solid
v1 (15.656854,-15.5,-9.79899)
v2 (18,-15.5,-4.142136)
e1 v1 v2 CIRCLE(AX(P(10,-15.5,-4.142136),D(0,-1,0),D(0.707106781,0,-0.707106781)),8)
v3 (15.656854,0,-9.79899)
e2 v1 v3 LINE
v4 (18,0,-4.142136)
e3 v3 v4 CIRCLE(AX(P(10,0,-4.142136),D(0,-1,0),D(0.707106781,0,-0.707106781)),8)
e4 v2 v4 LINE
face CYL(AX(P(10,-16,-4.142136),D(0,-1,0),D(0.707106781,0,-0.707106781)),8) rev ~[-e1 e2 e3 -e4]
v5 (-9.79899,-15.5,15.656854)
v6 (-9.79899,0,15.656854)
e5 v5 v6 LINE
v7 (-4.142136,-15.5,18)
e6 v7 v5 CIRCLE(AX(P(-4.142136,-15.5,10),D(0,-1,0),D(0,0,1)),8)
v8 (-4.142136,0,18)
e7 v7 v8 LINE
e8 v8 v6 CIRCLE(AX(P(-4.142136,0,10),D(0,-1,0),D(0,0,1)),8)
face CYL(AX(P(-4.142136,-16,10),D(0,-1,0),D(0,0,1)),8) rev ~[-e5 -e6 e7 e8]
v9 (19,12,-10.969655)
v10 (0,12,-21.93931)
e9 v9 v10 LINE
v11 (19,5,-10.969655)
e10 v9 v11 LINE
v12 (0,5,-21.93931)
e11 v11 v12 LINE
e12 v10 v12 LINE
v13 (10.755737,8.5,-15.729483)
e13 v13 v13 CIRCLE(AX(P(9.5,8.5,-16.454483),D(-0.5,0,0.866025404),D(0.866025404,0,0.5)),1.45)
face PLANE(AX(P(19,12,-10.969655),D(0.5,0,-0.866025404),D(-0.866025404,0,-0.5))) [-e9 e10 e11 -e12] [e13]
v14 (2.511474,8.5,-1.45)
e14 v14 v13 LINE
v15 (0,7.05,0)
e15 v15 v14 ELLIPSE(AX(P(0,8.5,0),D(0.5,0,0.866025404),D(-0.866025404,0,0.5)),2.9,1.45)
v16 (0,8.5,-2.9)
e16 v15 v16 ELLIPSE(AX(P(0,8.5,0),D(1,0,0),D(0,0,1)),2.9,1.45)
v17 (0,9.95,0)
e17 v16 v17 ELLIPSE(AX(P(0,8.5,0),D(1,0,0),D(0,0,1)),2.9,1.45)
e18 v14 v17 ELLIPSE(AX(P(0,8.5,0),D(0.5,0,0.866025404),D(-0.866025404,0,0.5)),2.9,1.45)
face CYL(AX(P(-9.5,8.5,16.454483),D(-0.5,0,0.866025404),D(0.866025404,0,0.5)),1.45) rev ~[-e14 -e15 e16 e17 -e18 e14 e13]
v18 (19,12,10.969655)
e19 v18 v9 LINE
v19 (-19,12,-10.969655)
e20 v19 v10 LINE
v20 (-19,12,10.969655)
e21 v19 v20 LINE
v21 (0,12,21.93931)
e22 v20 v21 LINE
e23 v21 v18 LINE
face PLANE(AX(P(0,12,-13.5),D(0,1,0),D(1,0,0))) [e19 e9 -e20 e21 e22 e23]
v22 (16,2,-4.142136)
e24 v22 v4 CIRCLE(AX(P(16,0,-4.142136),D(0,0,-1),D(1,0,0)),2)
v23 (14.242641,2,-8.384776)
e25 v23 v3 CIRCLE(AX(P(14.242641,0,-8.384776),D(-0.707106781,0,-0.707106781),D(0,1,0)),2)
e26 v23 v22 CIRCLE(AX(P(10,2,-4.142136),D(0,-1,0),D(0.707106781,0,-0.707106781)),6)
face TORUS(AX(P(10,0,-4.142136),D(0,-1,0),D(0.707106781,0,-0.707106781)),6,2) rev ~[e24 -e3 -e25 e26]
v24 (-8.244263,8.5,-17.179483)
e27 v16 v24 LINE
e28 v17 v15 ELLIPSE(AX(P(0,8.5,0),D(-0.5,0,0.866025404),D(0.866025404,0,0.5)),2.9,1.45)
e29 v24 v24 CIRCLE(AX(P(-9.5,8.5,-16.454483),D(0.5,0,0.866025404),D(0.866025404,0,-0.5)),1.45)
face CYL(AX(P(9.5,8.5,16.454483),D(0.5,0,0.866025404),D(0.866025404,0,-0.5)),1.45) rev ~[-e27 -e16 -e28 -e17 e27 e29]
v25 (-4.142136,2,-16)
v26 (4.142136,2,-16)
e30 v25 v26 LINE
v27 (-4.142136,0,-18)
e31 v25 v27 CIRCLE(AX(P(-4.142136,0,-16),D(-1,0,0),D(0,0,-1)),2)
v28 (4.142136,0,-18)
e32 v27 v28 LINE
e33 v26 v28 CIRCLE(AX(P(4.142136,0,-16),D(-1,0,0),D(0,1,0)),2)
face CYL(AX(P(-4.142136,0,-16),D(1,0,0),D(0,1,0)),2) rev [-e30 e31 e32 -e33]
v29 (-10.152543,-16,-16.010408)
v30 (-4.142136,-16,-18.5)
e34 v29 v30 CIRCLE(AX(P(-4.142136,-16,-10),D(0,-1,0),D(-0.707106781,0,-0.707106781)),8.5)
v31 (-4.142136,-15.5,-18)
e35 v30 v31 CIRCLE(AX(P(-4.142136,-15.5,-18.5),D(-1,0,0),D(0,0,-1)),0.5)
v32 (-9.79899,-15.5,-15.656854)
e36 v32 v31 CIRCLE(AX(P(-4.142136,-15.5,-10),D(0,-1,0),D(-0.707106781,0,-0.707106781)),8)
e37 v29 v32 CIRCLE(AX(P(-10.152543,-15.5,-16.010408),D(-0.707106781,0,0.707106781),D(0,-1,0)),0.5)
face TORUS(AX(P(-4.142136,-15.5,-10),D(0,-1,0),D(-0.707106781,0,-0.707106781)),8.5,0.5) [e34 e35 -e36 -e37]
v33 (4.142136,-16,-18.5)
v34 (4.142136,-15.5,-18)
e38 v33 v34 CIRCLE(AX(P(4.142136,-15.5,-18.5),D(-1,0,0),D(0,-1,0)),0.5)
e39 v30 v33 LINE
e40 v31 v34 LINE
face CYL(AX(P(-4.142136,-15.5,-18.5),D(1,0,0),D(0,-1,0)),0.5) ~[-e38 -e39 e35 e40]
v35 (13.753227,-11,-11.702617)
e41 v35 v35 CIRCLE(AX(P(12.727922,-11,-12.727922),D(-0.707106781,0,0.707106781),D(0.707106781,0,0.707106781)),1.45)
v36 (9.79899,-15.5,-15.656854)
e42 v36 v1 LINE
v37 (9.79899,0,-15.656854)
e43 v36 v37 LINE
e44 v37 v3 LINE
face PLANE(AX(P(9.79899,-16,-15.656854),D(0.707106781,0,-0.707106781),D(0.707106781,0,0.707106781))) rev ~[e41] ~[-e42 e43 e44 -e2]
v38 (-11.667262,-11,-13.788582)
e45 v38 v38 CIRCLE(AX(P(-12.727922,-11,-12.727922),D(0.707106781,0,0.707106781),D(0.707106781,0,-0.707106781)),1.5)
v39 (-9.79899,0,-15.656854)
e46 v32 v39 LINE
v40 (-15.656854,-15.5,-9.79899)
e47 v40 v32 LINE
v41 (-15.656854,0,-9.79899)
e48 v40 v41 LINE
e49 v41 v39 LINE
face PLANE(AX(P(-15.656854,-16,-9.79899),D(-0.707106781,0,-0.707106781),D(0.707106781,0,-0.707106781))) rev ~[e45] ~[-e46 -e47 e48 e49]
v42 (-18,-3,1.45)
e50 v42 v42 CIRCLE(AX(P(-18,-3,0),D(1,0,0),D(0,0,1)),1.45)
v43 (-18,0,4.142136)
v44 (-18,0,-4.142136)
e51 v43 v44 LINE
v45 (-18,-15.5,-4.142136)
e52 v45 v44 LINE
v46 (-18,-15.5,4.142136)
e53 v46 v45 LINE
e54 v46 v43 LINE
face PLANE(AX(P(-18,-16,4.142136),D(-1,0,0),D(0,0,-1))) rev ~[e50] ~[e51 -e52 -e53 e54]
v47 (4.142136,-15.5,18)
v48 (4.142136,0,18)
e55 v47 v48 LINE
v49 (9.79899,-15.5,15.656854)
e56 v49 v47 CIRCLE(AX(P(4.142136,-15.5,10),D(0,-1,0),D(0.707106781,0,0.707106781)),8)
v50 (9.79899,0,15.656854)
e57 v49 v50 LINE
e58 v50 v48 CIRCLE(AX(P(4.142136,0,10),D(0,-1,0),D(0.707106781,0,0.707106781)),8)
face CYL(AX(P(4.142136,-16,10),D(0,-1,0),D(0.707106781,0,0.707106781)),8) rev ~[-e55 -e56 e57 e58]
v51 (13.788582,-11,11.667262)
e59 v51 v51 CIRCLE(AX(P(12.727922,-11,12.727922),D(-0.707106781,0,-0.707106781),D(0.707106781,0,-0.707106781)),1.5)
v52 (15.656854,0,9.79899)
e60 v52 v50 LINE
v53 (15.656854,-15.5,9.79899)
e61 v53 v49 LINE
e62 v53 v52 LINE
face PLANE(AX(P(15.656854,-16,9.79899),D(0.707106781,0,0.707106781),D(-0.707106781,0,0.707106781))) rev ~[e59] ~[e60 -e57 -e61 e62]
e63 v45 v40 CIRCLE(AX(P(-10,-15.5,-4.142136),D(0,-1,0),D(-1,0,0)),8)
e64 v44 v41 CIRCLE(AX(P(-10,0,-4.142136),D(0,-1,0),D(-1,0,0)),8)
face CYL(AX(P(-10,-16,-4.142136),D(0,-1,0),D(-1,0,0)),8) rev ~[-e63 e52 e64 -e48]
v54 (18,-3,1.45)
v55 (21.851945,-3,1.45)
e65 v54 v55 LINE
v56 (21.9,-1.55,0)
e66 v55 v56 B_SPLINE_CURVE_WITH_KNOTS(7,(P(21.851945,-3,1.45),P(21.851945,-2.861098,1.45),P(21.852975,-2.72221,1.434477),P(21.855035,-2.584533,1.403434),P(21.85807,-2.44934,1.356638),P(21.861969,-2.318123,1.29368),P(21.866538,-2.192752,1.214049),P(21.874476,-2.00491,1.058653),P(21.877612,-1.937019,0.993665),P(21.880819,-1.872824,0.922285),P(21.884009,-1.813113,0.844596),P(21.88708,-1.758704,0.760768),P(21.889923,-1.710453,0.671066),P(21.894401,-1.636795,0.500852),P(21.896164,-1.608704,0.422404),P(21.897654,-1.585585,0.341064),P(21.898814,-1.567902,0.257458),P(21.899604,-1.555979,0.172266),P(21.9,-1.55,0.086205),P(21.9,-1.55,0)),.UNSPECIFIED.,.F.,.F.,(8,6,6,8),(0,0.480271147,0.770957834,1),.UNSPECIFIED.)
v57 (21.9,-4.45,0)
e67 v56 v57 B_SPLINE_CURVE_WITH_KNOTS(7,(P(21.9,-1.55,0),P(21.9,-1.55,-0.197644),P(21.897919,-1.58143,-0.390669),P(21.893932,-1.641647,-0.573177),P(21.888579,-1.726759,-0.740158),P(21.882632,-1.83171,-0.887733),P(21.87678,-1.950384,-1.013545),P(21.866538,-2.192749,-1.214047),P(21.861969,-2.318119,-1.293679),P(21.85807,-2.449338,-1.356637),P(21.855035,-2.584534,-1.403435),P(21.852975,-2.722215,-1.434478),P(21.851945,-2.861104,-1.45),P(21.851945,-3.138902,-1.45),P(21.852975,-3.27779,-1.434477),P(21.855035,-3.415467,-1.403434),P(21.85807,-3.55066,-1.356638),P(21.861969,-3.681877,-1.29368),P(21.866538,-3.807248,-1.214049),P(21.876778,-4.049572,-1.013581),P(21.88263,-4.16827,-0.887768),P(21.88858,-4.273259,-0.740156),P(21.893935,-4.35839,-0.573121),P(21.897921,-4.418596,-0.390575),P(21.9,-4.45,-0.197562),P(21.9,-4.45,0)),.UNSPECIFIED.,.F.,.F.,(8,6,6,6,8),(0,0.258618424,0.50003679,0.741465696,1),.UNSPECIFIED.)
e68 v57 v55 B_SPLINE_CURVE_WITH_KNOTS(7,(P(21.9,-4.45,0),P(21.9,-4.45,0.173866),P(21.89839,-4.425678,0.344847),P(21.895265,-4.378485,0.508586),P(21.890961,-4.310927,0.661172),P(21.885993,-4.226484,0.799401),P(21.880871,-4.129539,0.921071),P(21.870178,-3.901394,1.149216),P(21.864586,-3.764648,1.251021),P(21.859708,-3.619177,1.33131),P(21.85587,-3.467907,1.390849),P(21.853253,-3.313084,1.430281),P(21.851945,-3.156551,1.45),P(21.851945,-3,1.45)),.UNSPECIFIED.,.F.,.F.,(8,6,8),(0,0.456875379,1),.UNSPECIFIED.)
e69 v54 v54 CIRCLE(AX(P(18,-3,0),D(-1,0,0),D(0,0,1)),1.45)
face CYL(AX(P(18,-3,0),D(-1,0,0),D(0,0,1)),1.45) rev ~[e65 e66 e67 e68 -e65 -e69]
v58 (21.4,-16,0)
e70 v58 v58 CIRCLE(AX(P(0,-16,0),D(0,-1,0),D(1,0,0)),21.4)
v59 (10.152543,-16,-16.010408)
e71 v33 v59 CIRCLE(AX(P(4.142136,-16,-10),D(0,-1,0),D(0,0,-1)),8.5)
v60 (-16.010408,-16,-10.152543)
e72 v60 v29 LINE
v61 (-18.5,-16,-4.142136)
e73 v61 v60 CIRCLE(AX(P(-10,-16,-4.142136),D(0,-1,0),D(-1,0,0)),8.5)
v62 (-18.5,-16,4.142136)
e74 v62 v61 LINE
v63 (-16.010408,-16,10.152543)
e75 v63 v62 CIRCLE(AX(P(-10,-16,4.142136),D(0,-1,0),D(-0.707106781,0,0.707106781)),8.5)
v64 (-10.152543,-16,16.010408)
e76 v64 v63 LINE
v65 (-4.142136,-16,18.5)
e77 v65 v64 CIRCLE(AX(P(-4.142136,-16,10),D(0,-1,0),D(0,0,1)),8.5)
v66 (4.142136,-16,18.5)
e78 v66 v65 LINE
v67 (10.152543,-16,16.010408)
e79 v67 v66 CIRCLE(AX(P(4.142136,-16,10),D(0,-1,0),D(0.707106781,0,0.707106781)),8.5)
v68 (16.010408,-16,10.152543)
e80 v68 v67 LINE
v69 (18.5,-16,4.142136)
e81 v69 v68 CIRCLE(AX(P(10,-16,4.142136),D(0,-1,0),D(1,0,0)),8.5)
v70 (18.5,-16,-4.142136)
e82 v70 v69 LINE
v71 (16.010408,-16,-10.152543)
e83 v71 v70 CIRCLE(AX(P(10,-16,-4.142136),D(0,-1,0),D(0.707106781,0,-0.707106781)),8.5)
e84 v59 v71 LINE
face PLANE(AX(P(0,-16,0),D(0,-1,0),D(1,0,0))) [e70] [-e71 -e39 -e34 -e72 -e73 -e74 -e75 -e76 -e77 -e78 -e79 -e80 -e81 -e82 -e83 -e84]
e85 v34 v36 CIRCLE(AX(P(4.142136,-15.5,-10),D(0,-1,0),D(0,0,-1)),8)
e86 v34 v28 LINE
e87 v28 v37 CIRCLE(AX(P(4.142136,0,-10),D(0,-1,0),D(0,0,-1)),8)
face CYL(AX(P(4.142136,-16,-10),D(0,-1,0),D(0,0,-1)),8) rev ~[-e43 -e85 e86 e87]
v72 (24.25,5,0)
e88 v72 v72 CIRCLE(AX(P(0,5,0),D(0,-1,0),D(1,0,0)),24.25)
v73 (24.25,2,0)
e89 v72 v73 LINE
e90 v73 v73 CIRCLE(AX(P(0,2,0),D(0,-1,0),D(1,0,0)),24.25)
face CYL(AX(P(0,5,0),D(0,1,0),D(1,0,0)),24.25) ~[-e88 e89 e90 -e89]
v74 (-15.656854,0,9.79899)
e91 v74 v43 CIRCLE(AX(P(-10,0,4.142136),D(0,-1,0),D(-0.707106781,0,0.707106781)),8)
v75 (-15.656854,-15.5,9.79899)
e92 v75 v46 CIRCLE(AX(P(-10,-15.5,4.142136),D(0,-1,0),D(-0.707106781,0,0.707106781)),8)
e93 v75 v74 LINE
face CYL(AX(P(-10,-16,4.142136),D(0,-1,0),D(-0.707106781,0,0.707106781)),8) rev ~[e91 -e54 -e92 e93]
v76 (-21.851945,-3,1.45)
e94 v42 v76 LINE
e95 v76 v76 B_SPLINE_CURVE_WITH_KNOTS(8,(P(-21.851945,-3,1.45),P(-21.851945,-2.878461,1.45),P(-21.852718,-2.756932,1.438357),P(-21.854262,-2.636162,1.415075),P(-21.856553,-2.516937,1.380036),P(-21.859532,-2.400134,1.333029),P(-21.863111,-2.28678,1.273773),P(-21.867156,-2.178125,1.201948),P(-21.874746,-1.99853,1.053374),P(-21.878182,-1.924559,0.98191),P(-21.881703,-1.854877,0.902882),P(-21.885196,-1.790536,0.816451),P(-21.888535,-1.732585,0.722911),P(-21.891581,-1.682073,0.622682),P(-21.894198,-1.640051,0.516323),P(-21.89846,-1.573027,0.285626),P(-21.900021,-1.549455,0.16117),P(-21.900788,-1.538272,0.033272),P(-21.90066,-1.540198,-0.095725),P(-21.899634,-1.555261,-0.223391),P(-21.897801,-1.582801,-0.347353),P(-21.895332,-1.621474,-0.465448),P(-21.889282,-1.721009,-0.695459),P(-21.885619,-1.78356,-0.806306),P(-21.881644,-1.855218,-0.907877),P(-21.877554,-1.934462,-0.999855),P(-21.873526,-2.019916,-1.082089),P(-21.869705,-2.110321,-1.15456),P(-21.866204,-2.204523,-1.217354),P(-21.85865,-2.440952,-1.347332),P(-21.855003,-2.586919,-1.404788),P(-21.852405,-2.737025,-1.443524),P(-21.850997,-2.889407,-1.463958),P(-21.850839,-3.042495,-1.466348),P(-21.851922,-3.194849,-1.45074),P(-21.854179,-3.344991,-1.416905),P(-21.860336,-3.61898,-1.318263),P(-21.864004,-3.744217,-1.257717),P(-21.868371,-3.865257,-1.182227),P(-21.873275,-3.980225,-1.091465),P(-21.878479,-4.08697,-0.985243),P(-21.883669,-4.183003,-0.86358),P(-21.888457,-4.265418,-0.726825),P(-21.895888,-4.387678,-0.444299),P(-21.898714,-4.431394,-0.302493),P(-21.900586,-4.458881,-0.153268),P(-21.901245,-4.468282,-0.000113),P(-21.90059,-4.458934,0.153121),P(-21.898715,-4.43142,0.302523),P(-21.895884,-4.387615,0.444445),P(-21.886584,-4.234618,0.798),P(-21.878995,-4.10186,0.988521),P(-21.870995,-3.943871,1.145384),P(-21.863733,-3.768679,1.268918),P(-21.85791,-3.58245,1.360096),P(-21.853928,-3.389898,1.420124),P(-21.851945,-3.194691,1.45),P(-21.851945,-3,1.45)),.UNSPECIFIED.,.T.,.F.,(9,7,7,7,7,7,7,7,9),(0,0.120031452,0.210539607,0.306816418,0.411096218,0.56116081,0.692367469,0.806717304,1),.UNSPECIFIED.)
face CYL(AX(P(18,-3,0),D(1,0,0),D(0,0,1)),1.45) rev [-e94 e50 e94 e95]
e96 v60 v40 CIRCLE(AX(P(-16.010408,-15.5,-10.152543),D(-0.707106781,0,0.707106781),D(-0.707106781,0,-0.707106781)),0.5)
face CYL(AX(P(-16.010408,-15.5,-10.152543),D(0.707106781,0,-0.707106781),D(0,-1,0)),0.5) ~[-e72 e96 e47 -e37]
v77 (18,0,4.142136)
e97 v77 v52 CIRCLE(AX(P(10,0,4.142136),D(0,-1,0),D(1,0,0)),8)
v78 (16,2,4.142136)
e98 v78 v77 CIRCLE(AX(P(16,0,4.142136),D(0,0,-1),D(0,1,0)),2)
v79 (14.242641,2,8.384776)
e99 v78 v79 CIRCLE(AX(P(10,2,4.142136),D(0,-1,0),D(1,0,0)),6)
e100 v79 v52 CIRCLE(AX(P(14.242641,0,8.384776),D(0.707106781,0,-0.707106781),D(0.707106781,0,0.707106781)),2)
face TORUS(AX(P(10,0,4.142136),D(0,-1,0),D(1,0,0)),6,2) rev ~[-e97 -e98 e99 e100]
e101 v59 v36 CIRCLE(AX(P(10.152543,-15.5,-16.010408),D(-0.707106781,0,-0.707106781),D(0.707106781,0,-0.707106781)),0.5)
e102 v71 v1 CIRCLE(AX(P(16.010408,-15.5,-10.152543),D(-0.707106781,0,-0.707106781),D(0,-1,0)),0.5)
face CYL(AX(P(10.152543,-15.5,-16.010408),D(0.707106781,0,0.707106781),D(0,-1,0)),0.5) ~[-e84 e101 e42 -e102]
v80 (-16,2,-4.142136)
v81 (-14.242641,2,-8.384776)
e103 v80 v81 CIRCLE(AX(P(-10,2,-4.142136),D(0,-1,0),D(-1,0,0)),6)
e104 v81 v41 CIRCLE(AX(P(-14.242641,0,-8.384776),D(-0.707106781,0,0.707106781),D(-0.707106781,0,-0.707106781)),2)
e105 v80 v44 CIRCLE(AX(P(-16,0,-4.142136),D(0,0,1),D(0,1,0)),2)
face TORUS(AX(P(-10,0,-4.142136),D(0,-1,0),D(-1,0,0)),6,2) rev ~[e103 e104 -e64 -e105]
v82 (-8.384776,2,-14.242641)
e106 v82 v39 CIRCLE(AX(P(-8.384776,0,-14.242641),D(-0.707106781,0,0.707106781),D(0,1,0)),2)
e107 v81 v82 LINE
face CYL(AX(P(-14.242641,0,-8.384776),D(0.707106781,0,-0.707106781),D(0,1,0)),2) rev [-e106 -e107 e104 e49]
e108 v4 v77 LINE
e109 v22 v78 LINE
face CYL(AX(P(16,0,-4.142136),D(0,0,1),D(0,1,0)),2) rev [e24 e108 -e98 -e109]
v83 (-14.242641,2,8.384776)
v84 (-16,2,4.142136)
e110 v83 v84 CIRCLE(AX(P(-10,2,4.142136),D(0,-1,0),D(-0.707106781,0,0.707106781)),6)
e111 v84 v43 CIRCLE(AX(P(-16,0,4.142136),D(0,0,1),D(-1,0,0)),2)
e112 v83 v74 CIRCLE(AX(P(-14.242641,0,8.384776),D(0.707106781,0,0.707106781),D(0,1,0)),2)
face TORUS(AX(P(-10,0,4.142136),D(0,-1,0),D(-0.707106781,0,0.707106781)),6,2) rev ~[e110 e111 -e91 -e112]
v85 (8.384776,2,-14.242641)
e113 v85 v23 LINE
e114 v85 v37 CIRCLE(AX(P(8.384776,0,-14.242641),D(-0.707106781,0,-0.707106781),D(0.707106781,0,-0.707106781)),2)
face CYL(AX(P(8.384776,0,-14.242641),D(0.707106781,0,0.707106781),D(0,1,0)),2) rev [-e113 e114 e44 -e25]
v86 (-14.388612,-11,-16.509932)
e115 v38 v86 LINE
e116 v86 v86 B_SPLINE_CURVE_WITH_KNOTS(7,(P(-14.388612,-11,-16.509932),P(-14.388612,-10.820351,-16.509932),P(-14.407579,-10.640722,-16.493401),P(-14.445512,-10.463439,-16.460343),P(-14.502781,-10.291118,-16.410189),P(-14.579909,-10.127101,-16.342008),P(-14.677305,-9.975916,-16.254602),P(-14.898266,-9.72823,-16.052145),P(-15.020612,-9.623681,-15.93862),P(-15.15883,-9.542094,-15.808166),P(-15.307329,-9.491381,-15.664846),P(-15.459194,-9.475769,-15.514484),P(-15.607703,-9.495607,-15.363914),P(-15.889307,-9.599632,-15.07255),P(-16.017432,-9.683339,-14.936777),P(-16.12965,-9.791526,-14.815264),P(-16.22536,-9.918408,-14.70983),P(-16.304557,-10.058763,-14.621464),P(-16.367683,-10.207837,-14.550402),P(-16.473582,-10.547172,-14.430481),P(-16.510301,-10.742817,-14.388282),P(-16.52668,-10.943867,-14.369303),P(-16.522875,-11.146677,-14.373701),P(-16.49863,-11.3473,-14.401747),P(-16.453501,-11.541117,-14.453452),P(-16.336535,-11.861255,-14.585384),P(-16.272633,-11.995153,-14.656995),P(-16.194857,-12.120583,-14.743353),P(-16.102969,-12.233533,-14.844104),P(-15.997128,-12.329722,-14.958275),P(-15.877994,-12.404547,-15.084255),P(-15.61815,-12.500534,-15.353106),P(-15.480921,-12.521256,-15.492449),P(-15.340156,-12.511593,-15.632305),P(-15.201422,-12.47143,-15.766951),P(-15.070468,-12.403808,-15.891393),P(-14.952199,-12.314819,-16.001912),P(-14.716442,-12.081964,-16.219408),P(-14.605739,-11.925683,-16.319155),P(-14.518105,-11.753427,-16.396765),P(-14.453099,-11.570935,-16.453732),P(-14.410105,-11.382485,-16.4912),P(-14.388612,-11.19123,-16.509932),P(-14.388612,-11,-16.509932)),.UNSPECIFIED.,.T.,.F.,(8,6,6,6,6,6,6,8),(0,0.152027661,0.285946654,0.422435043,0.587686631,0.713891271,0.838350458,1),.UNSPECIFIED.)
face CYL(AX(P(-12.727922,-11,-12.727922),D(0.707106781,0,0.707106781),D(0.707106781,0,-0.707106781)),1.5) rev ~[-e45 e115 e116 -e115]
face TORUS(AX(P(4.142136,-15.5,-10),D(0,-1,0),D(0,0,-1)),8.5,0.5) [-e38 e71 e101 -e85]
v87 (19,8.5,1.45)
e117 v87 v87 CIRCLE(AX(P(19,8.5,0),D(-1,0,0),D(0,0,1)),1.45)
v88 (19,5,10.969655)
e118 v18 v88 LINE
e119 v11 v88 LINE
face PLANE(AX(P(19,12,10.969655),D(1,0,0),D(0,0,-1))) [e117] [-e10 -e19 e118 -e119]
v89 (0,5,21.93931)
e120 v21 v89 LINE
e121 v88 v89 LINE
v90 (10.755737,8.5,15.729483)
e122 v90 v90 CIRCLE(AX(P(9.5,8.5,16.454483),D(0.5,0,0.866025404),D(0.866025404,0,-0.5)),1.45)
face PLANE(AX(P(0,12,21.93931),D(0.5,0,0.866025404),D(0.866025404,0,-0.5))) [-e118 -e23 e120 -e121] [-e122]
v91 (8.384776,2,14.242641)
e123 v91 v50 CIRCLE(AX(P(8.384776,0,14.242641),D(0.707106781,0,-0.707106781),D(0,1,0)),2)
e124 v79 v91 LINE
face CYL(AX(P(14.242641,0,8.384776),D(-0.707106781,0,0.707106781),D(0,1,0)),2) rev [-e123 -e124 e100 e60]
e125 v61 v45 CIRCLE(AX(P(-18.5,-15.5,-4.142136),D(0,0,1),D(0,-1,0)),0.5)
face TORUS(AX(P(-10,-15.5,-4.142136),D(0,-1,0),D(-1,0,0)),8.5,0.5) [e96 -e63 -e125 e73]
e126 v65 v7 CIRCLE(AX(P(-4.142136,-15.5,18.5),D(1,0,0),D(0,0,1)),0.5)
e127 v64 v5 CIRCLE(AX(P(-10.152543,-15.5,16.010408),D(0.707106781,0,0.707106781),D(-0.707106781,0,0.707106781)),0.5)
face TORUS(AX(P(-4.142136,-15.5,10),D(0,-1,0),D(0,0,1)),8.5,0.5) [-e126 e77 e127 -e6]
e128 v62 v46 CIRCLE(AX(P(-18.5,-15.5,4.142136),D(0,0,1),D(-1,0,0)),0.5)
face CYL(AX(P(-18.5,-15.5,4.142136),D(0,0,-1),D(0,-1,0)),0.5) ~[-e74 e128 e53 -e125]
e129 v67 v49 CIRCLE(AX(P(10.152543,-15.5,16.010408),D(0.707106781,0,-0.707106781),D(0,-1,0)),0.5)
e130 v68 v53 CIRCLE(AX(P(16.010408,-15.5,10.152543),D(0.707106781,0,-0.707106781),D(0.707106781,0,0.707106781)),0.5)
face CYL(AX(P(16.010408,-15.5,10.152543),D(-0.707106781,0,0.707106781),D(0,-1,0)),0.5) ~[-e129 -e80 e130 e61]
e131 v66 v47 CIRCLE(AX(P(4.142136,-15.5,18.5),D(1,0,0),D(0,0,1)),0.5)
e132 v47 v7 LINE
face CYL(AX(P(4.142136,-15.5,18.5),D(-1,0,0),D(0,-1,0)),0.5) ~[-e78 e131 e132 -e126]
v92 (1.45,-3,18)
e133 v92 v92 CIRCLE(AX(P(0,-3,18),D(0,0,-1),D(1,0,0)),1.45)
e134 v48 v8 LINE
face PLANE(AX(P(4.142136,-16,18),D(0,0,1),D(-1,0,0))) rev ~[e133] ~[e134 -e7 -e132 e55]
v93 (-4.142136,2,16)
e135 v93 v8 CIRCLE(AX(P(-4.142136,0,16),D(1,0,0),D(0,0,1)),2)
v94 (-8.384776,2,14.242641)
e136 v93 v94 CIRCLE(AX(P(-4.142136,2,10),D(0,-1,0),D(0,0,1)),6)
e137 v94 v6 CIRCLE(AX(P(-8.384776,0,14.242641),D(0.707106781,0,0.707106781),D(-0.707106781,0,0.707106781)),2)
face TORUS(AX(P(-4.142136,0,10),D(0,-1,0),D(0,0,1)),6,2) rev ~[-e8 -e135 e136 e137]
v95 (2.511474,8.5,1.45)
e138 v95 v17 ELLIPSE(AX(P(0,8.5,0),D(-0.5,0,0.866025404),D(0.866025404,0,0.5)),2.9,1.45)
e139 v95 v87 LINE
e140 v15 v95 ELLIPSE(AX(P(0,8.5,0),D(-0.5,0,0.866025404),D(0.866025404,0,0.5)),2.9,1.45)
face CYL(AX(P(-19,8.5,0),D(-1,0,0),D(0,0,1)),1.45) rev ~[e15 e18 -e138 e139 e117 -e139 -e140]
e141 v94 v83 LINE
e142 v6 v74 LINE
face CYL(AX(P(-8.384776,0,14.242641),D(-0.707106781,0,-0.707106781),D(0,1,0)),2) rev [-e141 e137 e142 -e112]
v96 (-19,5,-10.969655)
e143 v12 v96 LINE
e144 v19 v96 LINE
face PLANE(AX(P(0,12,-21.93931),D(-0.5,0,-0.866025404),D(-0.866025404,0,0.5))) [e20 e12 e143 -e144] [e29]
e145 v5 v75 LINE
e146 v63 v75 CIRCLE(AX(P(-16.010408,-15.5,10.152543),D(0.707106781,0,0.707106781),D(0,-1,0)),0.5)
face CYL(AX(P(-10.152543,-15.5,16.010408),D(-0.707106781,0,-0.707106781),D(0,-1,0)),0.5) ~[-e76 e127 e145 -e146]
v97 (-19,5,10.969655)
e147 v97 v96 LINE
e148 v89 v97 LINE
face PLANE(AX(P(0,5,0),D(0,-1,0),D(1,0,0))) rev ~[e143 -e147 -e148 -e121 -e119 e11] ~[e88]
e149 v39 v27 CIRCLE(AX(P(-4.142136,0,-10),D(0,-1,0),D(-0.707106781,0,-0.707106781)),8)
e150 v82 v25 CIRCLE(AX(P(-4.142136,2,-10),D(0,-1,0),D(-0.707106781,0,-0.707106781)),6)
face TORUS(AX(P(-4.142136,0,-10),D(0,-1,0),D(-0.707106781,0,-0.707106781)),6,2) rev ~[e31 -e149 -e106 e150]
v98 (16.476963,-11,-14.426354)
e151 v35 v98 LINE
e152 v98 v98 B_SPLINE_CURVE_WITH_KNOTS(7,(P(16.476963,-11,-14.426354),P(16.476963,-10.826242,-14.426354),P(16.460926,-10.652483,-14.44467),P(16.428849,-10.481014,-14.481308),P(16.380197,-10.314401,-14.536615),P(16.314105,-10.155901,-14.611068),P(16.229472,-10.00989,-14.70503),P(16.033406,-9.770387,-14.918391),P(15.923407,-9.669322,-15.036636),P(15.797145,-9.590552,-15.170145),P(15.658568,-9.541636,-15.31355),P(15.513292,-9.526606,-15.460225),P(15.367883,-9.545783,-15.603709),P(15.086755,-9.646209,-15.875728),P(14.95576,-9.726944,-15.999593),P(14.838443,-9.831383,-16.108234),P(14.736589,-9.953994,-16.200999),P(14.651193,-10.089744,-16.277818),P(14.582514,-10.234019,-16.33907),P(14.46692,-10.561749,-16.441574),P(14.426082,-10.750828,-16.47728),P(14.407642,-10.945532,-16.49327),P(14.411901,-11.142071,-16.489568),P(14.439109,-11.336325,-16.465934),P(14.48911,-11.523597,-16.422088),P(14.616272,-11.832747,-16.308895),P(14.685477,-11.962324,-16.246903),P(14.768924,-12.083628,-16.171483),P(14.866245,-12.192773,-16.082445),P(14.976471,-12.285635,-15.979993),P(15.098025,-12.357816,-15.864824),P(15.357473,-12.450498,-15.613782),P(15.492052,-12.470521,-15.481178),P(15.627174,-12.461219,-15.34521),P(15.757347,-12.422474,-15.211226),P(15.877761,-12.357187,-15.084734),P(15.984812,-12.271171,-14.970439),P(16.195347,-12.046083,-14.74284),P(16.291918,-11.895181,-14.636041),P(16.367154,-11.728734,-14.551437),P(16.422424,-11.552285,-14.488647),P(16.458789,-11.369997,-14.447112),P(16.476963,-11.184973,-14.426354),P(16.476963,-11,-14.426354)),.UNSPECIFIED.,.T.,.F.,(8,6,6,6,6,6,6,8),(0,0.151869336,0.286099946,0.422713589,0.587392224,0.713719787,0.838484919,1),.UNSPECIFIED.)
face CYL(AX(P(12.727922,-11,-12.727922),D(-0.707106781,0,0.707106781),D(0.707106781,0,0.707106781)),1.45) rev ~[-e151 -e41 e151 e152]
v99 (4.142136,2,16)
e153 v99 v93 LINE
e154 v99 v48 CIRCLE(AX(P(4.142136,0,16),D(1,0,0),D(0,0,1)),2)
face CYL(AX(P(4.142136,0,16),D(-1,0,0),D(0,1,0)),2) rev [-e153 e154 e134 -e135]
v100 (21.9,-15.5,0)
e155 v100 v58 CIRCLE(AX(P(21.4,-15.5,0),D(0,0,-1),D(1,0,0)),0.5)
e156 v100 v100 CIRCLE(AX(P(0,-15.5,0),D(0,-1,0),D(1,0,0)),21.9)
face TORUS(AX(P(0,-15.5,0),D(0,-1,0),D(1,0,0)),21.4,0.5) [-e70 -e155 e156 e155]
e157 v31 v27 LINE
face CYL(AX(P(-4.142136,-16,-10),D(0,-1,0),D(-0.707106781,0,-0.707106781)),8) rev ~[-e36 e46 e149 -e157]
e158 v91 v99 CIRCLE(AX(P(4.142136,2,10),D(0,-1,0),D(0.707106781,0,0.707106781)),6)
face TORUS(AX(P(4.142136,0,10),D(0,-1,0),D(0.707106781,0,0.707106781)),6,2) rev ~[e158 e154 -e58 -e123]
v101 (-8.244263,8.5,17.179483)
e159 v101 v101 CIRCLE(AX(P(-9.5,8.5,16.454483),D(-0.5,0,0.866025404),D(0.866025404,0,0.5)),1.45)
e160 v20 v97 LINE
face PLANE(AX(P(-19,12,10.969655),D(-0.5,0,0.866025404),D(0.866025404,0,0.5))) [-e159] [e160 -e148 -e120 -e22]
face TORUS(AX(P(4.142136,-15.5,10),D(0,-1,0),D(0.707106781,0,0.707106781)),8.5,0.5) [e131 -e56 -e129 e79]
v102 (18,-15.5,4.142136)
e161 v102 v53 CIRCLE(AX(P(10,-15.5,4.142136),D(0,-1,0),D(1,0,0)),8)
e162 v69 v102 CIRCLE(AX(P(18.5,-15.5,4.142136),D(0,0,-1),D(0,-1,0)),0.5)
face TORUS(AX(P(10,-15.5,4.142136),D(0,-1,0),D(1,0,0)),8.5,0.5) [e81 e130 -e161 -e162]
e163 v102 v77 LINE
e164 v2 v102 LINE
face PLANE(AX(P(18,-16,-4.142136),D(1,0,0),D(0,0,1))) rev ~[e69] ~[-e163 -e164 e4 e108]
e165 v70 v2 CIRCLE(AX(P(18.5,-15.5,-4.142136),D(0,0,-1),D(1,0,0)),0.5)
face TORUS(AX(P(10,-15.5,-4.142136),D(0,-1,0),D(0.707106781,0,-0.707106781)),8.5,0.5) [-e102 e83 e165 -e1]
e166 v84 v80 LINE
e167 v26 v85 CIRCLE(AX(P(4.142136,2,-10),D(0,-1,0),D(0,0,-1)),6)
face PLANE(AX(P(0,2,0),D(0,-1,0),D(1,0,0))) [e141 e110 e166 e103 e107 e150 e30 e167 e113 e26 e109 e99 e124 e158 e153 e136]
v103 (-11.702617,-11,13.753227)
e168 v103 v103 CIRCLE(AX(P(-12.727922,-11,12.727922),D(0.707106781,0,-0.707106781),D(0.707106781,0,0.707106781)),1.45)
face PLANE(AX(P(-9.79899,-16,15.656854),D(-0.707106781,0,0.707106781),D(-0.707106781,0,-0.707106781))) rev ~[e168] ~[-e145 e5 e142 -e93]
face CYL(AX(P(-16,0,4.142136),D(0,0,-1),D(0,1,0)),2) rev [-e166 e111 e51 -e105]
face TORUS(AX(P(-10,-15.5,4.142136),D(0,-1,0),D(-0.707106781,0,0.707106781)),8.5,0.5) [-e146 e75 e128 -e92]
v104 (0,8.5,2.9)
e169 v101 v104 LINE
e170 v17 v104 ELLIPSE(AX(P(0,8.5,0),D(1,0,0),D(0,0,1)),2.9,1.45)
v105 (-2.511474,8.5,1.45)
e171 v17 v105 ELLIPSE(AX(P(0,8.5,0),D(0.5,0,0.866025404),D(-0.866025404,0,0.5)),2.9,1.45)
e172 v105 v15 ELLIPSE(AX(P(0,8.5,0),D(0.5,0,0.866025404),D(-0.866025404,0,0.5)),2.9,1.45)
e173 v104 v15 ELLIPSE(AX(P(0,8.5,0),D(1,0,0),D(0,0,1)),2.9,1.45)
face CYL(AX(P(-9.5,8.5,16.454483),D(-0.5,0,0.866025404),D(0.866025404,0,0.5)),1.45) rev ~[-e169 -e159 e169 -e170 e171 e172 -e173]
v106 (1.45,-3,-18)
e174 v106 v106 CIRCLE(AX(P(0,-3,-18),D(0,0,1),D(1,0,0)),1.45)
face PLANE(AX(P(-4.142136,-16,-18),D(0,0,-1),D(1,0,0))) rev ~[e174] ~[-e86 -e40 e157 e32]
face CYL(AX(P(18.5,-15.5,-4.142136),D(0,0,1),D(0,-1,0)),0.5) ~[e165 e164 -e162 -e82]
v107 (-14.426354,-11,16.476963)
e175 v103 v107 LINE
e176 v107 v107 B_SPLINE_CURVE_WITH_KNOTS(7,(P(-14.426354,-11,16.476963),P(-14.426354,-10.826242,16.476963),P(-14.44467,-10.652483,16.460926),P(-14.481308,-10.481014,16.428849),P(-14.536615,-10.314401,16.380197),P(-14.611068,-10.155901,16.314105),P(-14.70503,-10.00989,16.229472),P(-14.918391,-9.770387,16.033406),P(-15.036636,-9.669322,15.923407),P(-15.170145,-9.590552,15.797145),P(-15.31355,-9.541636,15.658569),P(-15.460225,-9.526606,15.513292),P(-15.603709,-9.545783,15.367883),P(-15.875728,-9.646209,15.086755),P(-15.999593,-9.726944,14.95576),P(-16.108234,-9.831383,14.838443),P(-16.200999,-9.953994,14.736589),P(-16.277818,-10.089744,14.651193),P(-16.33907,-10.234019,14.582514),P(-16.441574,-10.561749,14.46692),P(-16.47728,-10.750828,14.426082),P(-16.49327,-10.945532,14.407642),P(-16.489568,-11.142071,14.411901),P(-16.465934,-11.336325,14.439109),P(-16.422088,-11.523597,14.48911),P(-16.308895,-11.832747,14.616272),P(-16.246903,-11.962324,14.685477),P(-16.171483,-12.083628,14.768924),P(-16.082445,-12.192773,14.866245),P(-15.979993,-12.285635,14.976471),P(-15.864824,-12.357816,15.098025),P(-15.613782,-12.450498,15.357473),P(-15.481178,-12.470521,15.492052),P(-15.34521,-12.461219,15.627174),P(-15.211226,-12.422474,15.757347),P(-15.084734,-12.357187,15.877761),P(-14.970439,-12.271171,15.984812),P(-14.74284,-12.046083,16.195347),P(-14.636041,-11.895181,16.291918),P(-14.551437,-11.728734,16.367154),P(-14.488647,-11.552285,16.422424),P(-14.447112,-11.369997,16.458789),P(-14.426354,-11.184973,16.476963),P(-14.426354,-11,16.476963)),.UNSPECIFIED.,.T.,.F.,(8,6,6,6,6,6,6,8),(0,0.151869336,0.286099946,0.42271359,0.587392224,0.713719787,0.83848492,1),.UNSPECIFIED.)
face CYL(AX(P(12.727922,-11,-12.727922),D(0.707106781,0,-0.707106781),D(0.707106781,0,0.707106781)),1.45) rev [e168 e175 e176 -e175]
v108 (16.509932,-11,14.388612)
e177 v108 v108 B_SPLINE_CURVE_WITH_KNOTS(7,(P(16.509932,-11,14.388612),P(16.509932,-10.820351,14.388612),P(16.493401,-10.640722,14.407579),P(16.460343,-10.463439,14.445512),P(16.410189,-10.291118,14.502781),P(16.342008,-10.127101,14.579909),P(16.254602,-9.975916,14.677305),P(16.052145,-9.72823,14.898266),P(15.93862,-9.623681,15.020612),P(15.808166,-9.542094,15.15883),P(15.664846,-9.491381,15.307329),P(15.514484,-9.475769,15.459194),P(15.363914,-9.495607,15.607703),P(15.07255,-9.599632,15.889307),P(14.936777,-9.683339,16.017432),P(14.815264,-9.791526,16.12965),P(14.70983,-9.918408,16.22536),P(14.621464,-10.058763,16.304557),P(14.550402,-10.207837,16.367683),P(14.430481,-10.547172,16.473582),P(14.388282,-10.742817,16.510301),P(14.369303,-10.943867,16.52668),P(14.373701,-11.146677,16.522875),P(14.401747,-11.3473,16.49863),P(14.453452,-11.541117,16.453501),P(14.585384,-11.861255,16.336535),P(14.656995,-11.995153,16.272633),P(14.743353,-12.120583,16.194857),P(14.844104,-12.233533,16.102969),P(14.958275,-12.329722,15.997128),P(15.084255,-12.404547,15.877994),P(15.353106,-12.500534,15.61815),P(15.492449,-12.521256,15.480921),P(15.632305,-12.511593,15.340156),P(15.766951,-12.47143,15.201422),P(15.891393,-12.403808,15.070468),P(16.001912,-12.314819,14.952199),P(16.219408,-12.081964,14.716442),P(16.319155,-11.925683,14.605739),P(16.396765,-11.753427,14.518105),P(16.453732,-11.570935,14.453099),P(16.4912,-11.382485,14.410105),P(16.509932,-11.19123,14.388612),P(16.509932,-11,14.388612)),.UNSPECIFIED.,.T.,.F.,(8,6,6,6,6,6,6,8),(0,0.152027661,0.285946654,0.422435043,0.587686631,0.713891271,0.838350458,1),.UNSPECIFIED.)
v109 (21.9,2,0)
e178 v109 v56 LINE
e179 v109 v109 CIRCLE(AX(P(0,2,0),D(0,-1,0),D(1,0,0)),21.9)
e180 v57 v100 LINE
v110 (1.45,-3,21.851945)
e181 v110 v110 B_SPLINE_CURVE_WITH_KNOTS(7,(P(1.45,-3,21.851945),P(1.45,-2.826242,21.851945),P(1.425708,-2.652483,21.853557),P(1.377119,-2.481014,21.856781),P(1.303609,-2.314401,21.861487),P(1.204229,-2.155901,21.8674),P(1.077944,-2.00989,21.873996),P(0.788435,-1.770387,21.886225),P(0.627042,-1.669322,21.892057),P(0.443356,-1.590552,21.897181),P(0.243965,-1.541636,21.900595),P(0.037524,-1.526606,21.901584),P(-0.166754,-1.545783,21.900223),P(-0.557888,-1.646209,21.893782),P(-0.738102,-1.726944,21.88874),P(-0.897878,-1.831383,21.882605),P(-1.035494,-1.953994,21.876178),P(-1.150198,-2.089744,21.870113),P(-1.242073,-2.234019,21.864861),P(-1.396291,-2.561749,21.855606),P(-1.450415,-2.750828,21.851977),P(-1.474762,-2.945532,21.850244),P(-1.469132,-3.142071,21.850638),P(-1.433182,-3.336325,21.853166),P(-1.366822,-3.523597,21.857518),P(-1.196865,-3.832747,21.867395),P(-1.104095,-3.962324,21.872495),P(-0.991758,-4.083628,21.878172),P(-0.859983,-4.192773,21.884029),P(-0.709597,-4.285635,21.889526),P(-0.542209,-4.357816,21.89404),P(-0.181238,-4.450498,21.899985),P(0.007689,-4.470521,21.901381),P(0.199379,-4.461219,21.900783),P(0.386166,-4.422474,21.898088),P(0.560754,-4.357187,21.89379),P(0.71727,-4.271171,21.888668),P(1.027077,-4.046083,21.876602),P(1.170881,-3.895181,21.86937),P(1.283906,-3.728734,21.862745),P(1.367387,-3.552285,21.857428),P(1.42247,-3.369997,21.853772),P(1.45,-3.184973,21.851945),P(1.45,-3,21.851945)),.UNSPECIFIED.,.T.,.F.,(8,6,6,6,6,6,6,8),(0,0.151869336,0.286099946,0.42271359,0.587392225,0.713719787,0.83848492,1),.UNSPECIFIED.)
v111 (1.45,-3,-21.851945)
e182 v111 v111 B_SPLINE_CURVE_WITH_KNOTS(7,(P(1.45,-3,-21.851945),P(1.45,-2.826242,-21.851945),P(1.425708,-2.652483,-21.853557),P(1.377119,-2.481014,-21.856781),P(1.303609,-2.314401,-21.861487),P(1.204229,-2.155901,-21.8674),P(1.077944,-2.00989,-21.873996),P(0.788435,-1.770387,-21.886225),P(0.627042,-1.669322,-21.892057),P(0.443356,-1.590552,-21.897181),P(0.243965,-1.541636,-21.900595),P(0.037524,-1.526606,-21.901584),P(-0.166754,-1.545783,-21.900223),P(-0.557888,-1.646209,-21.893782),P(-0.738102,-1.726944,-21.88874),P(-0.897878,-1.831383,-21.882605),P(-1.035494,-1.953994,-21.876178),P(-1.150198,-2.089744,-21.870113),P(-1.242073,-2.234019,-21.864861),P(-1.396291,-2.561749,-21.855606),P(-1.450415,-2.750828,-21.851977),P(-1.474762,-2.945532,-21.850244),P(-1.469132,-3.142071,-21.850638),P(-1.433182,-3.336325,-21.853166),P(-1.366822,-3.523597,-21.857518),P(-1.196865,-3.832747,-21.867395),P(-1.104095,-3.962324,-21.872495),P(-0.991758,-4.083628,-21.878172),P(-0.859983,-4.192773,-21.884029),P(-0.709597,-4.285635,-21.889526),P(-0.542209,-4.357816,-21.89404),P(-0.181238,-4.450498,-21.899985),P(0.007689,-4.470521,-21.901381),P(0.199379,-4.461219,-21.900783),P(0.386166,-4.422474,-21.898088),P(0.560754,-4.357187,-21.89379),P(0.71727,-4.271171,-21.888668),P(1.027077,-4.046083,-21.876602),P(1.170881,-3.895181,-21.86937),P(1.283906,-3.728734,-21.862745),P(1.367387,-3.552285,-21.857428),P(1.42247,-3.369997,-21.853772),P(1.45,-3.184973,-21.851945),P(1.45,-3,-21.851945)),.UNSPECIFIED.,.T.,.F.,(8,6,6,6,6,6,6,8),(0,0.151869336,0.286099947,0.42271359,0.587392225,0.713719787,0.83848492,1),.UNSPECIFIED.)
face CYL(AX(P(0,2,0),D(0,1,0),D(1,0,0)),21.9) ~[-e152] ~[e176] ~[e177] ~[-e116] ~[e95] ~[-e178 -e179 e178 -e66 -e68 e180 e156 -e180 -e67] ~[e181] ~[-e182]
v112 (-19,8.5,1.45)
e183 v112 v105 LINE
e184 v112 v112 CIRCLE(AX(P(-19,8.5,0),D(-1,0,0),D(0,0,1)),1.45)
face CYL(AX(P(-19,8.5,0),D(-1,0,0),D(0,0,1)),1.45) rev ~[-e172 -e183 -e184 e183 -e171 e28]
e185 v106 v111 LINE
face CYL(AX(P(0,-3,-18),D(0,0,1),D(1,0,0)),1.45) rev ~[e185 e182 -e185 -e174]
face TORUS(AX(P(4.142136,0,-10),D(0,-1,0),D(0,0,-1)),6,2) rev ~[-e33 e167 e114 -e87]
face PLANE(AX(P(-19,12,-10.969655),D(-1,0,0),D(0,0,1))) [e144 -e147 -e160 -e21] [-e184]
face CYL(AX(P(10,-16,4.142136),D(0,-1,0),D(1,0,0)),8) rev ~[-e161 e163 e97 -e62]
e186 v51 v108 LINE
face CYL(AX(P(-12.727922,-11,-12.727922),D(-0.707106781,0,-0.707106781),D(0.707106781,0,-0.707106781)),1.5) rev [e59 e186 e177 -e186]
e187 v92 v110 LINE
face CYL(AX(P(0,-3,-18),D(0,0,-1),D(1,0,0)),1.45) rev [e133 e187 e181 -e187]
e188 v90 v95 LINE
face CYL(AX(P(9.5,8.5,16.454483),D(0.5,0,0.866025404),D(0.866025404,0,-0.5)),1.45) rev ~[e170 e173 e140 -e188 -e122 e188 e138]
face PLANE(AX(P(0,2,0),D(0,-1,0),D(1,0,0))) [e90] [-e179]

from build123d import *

# Parameters (mm, degrees)
SKETCH_1_R                = 19
SKETCH_1_R_2              = 1.45
SKETCH_1_R_3              = 2
EXTRUDE_1_DEPTH           = 12
SKETCH_2_R                = 1.45
SKETCH_2_R_2              = 2
EXTRUDE_2_DEPTH           = 7
SKETCH_3_R                = 1.45
CUT_EXTRUDE_1_DEPTH       = 48.5
SKETCH_4_R                = 1.45
CUT_EXTRUDE_2_DEPTH       = 48.5
SKETCH_5_R                = 1.45
CUT_EXTRUDE_3_DEPTH       = 39
SKETCH_8_R                = 24
CUT_EXTRUDE_6_DEPTH       = 5
SKETCH_10_R               = 24.25
EXTRUDE_3_DEPTH           = 3
SKETCH_11_R               = 21.9
EXTRUDE_4_DEPTH           = 18
CUT_EXTRUDE_7_DEPTH       = 18
SKETCH_13_R               = 1.45
CUT_EXTRUDE_8_DEPTH       = 43.25
CUT_EXTRUDE_8_DEPTH_BACK  = 7.25
SKETCH_14_R               = 1.45
CUT_EXTRUDE_9_DEPTH       = 53.294678888
CUT_EXTRUDE_9_DEPTH_BACK  = 17.294678888
SKETCH_15_R               = 1.45
CUT_EXTRUDE_10_DEPTH      = 43.25
CUT_EXTRUDE_10_DEPTH_BACK = 7.25
SKETCH_16_R               = 1.5
CUT_EXTRUDE_11_DEPTH      = 53.294678888
CUT_EXTRUDE_11_DEPTH_BACK = 17.294678888
FILLET_1_R                = 0.5
FILLET_2_R                = 2
SKETCH_17_R               = 1.45
SKETCH_17_R_2             = 2
SKETCH_17_R_3             = 2.272593427
EXTRUDE_5_DEPTH           = 9


with BuildPart() as part:
    # 草图1 → 凸台-拉伸1 (new body)
    with BuildSketch(Plane(origin=(0, 0, 0), x_dir=(1, 0, 0), z_dir=(0, 1, 0))):
        Circle(SKETCH_1_R)
        with Locations((0, 13.5)):
            Circle(SKETCH_1_R_2, mode=Mode.SUBTRACT)
        with Locations((-11.691342951, -6.75)):
            Circle(SKETCH_1_R_2, mode=Mode.SUBTRACT)
        with Locations((11.691342951, -6.75)):
            Circle(SKETCH_1_R_2, mode=Mode.SUBTRACT)
        with Locations((-10.522208656, 6.075)):
            Circle(SKETCH_1_R_3, mode=Mode.SUBTRACT)
        with Locations((0, -12.15)):
            Circle(SKETCH_1_R_3, mode=Mode.SUBTRACT)
        with Locations((10.522208656, 6.075)):
            Circle(SKETCH_1_R_3, mode=Mode.SUBTRACT)
    extrude(amount=EXTRUDE_1_DEPTH)

    # 草图2 → 凸台-拉伸2 (add)
    with BuildSketch(Plane(origin=(0, 12, 0), x_dir=(1, 0, 0), z_dir=(0, 1, 0))):
        Polygon((0, 21.939310229), (-19, 10.969655115), (-19, -10.969655115), (0, -21.939310229), (19, -10.969655115), (19, 10.969655115), align=None)
        with Locations((0, 13.5)):
            Circle(SKETCH_2_R, mode=Mode.SUBTRACT)
        with Locations((-10.522208656, 6.075)):
            Circle(SKETCH_2_R_2, mode=Mode.SUBTRACT)
        with Locations((10.522208656, 6.075)):
            Circle(SKETCH_2_R_2, mode=Mode.SUBTRACT)
        with Locations((-11.691342951, -6.75)):
            Circle(SKETCH_2_R, mode=Mode.SUBTRACT)
        with Locations((0, -12.15)):
            Circle(SKETCH_2_R_2, mode=Mode.SUBTRACT)
        with Locations((11.691342951, -6.75)):
            Circle(SKETCH_2_R, mode=Mode.SUBTRACT)
    extrude(amount=-EXTRUDE_2_DEPTH)

    # 草图3 → 切除-拉伸1 (cut, through all)
    with BuildSketch(Plane(origin=(9.5, 0, 16.454482672), x_dir=(0.866025404, 0, -0.5), z_dir=(0.5, 0, 0.866025404))):
        with Locations((0, 8.5)):
            Circle(SKETCH_3_R)
    extrude(amount=-CUT_EXTRUDE_1_DEPTH, mode=Mode.SUBTRACT)

    # 草图4 → 切除-拉伸2 (cut, through all)
    with BuildSketch(Plane(origin=(-9.5, 0, 16.454482672), x_dir=(0.866025404, 0, 0.5), z_dir=(-0.5, 0, 0.866025404))):
        with Locations((0, 8.5)):
            Circle(SKETCH_4_R)
    extrude(amount=-CUT_EXTRUDE_2_DEPTH, mode=Mode.SUBTRACT)

    # 草图5 → 切除-拉伸3 (cut, through all)
    with BuildSketch(Plane.ZY.offset(19)):
        with Locations((0, 8.5)):
            Circle(SKETCH_5_R)
    extrude(amount=-CUT_EXTRUDE_3_DEPTH, mode=Mode.SUBTRACT)

    # 草图8 → 切除-拉伸6 (cut)
    with BuildSketch(Plane.XZ):
        Circle(SKETCH_8_R)
    extrude(amount=-CUT_EXTRUDE_6_DEPTH, mode=Mode.SUBTRACT)

    # 草图10 → 凸台-拉伸3 (add)
    with BuildSketch(Plane.XZ.offset(-5)):
        Circle(SKETCH_10_R)
    extrude(amount=EXTRUDE_3_DEPTH)

    # 草图11 → 凸台-拉伸4 (add)
    with BuildSketch(Plane.XZ.offset(-2)):
        Circle(SKETCH_11_R)
    extrude(amount=EXTRUDE_4_DEPTH)

    # 草图12 → 切除-拉伸7 (cut)
    with BuildSketch(Plane.XZ.offset(16)):
        with BuildLine():
            Line((-15.656854249, -9.798989873), (-9.798989873, -15.656854249))
            ThreePointArc((-9.798989873, -15.656854249), (-7.203603083, -17.39103626), (-4.142135624, -18))
            Line((-4.142135624, -18), (4.142135624, -18))
            ThreePointArc((4.142135624, -18), (7.203603083, -17.39103626), (9.798989873, -15.656854249))
            Line((9.798989873, -15.656854249), (15.656854249, -9.798989873))
            ThreePointArc((15.656854249, -9.798989873), (17.39103626, -7.203603083), (18, -4.142135624))
            Line((18, -4.142135624), (18, 4.142135624))
            ThreePointArc((18, 4.142135624), (17.39103626, 7.203603083), (15.656854249, 9.798989873))
            Line((15.656854249, 9.798989873), (9.798989873, 15.656854249))
            ThreePointArc((9.798989873, 15.656854249), (7.203603083, 17.39103626), (4.142135624, 18))
            Line((4.142135624, 18), (-4.142135624, 18))
            ThreePointArc((-4.142135624, 18), (-7.203603083, 17.39103626), (-9.798989873, 15.656854249))
            Line((-9.798989873, 15.656854249), (-15.656854249, 9.798989873))
            ThreePointArc((-15.656854249, 9.798989873), (-17.39103626, 7.203603083), (-18, 4.142135624))
            Line((-18, 4.142135624), (-18, -4.142135624))
            ThreePointArc((-18, -4.142135624), (-17.39103626, -7.203603083), (-15.656854249, -9.798989873))
        make_face()
    extrude(amount=-CUT_EXTRUDE_7_DEPTH, mode=Mode.SUBTRACT)

    # 草图13 → 切除-拉伸8 (cut, two sides)
    with BuildSketch(Plane.ZY.offset(-18)) as cut_extrude_8_sk:
        with Locations((0, -3)):
            Circle(SKETCH_13_R)
    extrude(amount=CUT_EXTRUDE_8_DEPTH, mode=Mode.SUBTRACT)
    extrude(cut_extrude_8_sk.sketch, amount=-CUT_EXTRUDE_8_DEPTH_BACK, mode=Mode.SUBTRACT)

    # 草图14 → 切除-拉伸9 (cut, two sides)
    with BuildSketch(Plane(origin=(12.727922061, 0, -12.727922061), x_dir=(0.707106781, 0, 0.707106781), z_dir=(-0.707106781, 0, 0.707106781))) as cut_extrude_9_sk:
        with Locations((0, -11)):
            Circle(SKETCH_14_R)
    extrude(amount=CUT_EXTRUDE_9_DEPTH, mode=Mode.SUBTRACT)
    extrude(cut_extrude_9_sk.sketch, amount=-CUT_EXTRUDE_9_DEPTH_BACK, mode=Mode.SUBTRACT)

    # 草图15 → 切除-拉伸10 (cut, two sides)
    with BuildSketch(Plane.XY.offset(-18)) as cut_extrude_10_sk:
        with Locations((0, -3)):
            Circle(SKETCH_15_R)
    extrude(amount=CUT_EXTRUDE_10_DEPTH, mode=Mode.SUBTRACT)
    extrude(cut_extrude_10_sk.sketch, amount=-CUT_EXTRUDE_10_DEPTH_BACK, mode=Mode.SUBTRACT)

    # 草图16 → 切除-拉伸11 (cut, two sides)
    with BuildSketch(Plane(origin=(-12.727922061, 0, -12.727922061), x_dir=(0.707106781, 0, -0.707106781), z_dir=(0.707106781, 0, 0.707106781))) as cut_extrude_11_sk:
        with Locations((0, -11)):
            Circle(SKETCH_16_R)
    extrude(amount=CUT_EXTRUDE_11_DEPTH, mode=Mode.SUBTRACT)
    extrude(cut_extrude_11_sk.sketch, amount=-CUT_EXTRUDE_11_DEPTH_BACK, mode=Mode.SUBTRACT)

    # 圆角1
    fillet_1_edges = [part.edges().sort_by_distance(p)[0] for p in [
        (-21.9, -16, 0),
        (-7.203603083, -16, 17.39103626),
        (-12.727922061, -16, 12.727922061),
        (-17.39103626, -16, 7.203603083),
        (-18, -16, 0),
        (-17.39103626, -16, -7.203603083),
        (-12.727922061, -16, -12.727922061),
        (-7.203603083, -16, -17.39103626),
        (0, -16, -18),
        (7.203603083, -16, -17.39103626),
        (12.727922061, -16, -12.727922061),
        (17.39103626, -16, -7.203603083),
        (18, -16, 0),
        (17.39103626, -16, 7.203603083),
        (12.727922061, -16, 12.727922061),
        (7.203603083, -16, 17.39103626),
        (0, -16, 18),
    ]]
    fillet(fillet_1_edges, radius=FILLET_1_R)

    # 圆角2
    fillet_2_edges = [part.edges().sort_by_distance(p)[0] for p in [
        (-7.203603083, 2, 17.39103626),
        (0, 2, 18),
        (7.203603083, 2, 17.39103626),
        (12.727922061, 2, 12.727922061),
        (17.39103626, 2, 7.203603083),
        (18, 2, 0),
        (17.39103626, 2, -7.203603083),
        (12.727922061, 2, -12.727922061),
        (7.203603083, 2, -17.39103626),
        (0, 2, -18),
        (-7.203603083, 2, -17.39103626),
        (-12.727922061, 2, -12.727922061),
        (-17.39103626, 2, -7.203603083),
        (-18, 2, 0),
        (-17.39103626, 2, 7.203603083),
        (-12.727922061, 2, 12.727922061),
    ]]
    fillet(fillet_2_edges, radius=FILLET_2_R)

    # 草图17 → 凸台-拉伸5 (add)
    with BuildSketch(Plane(origin=(0, 12, 0), x_dir=(1, 0, 0), z_dir=(0, 1, 0))):
        with Locations((0, 13.5)):
            Circle(SKETCH_17_R)
        with Locations((10.522208656, 6.075)):
            Circle(SKETCH_17_R_2)
        with Locations((11.691342951, -6.75)):
            Circle(SKETCH_17_R)
        with Locations((0, -12.15)):
            Circle(SKETCH_17_R_2)
        with Locations((-11.691342951, -6.75)):
            Circle(SKETCH_17_R)
        with Locations((-10.522208656, 6.075)):
            Circle(SKETCH_17_R_3)
    extrude(amount=-EXTRUDE_5_DEPTH)


solid = part.part
